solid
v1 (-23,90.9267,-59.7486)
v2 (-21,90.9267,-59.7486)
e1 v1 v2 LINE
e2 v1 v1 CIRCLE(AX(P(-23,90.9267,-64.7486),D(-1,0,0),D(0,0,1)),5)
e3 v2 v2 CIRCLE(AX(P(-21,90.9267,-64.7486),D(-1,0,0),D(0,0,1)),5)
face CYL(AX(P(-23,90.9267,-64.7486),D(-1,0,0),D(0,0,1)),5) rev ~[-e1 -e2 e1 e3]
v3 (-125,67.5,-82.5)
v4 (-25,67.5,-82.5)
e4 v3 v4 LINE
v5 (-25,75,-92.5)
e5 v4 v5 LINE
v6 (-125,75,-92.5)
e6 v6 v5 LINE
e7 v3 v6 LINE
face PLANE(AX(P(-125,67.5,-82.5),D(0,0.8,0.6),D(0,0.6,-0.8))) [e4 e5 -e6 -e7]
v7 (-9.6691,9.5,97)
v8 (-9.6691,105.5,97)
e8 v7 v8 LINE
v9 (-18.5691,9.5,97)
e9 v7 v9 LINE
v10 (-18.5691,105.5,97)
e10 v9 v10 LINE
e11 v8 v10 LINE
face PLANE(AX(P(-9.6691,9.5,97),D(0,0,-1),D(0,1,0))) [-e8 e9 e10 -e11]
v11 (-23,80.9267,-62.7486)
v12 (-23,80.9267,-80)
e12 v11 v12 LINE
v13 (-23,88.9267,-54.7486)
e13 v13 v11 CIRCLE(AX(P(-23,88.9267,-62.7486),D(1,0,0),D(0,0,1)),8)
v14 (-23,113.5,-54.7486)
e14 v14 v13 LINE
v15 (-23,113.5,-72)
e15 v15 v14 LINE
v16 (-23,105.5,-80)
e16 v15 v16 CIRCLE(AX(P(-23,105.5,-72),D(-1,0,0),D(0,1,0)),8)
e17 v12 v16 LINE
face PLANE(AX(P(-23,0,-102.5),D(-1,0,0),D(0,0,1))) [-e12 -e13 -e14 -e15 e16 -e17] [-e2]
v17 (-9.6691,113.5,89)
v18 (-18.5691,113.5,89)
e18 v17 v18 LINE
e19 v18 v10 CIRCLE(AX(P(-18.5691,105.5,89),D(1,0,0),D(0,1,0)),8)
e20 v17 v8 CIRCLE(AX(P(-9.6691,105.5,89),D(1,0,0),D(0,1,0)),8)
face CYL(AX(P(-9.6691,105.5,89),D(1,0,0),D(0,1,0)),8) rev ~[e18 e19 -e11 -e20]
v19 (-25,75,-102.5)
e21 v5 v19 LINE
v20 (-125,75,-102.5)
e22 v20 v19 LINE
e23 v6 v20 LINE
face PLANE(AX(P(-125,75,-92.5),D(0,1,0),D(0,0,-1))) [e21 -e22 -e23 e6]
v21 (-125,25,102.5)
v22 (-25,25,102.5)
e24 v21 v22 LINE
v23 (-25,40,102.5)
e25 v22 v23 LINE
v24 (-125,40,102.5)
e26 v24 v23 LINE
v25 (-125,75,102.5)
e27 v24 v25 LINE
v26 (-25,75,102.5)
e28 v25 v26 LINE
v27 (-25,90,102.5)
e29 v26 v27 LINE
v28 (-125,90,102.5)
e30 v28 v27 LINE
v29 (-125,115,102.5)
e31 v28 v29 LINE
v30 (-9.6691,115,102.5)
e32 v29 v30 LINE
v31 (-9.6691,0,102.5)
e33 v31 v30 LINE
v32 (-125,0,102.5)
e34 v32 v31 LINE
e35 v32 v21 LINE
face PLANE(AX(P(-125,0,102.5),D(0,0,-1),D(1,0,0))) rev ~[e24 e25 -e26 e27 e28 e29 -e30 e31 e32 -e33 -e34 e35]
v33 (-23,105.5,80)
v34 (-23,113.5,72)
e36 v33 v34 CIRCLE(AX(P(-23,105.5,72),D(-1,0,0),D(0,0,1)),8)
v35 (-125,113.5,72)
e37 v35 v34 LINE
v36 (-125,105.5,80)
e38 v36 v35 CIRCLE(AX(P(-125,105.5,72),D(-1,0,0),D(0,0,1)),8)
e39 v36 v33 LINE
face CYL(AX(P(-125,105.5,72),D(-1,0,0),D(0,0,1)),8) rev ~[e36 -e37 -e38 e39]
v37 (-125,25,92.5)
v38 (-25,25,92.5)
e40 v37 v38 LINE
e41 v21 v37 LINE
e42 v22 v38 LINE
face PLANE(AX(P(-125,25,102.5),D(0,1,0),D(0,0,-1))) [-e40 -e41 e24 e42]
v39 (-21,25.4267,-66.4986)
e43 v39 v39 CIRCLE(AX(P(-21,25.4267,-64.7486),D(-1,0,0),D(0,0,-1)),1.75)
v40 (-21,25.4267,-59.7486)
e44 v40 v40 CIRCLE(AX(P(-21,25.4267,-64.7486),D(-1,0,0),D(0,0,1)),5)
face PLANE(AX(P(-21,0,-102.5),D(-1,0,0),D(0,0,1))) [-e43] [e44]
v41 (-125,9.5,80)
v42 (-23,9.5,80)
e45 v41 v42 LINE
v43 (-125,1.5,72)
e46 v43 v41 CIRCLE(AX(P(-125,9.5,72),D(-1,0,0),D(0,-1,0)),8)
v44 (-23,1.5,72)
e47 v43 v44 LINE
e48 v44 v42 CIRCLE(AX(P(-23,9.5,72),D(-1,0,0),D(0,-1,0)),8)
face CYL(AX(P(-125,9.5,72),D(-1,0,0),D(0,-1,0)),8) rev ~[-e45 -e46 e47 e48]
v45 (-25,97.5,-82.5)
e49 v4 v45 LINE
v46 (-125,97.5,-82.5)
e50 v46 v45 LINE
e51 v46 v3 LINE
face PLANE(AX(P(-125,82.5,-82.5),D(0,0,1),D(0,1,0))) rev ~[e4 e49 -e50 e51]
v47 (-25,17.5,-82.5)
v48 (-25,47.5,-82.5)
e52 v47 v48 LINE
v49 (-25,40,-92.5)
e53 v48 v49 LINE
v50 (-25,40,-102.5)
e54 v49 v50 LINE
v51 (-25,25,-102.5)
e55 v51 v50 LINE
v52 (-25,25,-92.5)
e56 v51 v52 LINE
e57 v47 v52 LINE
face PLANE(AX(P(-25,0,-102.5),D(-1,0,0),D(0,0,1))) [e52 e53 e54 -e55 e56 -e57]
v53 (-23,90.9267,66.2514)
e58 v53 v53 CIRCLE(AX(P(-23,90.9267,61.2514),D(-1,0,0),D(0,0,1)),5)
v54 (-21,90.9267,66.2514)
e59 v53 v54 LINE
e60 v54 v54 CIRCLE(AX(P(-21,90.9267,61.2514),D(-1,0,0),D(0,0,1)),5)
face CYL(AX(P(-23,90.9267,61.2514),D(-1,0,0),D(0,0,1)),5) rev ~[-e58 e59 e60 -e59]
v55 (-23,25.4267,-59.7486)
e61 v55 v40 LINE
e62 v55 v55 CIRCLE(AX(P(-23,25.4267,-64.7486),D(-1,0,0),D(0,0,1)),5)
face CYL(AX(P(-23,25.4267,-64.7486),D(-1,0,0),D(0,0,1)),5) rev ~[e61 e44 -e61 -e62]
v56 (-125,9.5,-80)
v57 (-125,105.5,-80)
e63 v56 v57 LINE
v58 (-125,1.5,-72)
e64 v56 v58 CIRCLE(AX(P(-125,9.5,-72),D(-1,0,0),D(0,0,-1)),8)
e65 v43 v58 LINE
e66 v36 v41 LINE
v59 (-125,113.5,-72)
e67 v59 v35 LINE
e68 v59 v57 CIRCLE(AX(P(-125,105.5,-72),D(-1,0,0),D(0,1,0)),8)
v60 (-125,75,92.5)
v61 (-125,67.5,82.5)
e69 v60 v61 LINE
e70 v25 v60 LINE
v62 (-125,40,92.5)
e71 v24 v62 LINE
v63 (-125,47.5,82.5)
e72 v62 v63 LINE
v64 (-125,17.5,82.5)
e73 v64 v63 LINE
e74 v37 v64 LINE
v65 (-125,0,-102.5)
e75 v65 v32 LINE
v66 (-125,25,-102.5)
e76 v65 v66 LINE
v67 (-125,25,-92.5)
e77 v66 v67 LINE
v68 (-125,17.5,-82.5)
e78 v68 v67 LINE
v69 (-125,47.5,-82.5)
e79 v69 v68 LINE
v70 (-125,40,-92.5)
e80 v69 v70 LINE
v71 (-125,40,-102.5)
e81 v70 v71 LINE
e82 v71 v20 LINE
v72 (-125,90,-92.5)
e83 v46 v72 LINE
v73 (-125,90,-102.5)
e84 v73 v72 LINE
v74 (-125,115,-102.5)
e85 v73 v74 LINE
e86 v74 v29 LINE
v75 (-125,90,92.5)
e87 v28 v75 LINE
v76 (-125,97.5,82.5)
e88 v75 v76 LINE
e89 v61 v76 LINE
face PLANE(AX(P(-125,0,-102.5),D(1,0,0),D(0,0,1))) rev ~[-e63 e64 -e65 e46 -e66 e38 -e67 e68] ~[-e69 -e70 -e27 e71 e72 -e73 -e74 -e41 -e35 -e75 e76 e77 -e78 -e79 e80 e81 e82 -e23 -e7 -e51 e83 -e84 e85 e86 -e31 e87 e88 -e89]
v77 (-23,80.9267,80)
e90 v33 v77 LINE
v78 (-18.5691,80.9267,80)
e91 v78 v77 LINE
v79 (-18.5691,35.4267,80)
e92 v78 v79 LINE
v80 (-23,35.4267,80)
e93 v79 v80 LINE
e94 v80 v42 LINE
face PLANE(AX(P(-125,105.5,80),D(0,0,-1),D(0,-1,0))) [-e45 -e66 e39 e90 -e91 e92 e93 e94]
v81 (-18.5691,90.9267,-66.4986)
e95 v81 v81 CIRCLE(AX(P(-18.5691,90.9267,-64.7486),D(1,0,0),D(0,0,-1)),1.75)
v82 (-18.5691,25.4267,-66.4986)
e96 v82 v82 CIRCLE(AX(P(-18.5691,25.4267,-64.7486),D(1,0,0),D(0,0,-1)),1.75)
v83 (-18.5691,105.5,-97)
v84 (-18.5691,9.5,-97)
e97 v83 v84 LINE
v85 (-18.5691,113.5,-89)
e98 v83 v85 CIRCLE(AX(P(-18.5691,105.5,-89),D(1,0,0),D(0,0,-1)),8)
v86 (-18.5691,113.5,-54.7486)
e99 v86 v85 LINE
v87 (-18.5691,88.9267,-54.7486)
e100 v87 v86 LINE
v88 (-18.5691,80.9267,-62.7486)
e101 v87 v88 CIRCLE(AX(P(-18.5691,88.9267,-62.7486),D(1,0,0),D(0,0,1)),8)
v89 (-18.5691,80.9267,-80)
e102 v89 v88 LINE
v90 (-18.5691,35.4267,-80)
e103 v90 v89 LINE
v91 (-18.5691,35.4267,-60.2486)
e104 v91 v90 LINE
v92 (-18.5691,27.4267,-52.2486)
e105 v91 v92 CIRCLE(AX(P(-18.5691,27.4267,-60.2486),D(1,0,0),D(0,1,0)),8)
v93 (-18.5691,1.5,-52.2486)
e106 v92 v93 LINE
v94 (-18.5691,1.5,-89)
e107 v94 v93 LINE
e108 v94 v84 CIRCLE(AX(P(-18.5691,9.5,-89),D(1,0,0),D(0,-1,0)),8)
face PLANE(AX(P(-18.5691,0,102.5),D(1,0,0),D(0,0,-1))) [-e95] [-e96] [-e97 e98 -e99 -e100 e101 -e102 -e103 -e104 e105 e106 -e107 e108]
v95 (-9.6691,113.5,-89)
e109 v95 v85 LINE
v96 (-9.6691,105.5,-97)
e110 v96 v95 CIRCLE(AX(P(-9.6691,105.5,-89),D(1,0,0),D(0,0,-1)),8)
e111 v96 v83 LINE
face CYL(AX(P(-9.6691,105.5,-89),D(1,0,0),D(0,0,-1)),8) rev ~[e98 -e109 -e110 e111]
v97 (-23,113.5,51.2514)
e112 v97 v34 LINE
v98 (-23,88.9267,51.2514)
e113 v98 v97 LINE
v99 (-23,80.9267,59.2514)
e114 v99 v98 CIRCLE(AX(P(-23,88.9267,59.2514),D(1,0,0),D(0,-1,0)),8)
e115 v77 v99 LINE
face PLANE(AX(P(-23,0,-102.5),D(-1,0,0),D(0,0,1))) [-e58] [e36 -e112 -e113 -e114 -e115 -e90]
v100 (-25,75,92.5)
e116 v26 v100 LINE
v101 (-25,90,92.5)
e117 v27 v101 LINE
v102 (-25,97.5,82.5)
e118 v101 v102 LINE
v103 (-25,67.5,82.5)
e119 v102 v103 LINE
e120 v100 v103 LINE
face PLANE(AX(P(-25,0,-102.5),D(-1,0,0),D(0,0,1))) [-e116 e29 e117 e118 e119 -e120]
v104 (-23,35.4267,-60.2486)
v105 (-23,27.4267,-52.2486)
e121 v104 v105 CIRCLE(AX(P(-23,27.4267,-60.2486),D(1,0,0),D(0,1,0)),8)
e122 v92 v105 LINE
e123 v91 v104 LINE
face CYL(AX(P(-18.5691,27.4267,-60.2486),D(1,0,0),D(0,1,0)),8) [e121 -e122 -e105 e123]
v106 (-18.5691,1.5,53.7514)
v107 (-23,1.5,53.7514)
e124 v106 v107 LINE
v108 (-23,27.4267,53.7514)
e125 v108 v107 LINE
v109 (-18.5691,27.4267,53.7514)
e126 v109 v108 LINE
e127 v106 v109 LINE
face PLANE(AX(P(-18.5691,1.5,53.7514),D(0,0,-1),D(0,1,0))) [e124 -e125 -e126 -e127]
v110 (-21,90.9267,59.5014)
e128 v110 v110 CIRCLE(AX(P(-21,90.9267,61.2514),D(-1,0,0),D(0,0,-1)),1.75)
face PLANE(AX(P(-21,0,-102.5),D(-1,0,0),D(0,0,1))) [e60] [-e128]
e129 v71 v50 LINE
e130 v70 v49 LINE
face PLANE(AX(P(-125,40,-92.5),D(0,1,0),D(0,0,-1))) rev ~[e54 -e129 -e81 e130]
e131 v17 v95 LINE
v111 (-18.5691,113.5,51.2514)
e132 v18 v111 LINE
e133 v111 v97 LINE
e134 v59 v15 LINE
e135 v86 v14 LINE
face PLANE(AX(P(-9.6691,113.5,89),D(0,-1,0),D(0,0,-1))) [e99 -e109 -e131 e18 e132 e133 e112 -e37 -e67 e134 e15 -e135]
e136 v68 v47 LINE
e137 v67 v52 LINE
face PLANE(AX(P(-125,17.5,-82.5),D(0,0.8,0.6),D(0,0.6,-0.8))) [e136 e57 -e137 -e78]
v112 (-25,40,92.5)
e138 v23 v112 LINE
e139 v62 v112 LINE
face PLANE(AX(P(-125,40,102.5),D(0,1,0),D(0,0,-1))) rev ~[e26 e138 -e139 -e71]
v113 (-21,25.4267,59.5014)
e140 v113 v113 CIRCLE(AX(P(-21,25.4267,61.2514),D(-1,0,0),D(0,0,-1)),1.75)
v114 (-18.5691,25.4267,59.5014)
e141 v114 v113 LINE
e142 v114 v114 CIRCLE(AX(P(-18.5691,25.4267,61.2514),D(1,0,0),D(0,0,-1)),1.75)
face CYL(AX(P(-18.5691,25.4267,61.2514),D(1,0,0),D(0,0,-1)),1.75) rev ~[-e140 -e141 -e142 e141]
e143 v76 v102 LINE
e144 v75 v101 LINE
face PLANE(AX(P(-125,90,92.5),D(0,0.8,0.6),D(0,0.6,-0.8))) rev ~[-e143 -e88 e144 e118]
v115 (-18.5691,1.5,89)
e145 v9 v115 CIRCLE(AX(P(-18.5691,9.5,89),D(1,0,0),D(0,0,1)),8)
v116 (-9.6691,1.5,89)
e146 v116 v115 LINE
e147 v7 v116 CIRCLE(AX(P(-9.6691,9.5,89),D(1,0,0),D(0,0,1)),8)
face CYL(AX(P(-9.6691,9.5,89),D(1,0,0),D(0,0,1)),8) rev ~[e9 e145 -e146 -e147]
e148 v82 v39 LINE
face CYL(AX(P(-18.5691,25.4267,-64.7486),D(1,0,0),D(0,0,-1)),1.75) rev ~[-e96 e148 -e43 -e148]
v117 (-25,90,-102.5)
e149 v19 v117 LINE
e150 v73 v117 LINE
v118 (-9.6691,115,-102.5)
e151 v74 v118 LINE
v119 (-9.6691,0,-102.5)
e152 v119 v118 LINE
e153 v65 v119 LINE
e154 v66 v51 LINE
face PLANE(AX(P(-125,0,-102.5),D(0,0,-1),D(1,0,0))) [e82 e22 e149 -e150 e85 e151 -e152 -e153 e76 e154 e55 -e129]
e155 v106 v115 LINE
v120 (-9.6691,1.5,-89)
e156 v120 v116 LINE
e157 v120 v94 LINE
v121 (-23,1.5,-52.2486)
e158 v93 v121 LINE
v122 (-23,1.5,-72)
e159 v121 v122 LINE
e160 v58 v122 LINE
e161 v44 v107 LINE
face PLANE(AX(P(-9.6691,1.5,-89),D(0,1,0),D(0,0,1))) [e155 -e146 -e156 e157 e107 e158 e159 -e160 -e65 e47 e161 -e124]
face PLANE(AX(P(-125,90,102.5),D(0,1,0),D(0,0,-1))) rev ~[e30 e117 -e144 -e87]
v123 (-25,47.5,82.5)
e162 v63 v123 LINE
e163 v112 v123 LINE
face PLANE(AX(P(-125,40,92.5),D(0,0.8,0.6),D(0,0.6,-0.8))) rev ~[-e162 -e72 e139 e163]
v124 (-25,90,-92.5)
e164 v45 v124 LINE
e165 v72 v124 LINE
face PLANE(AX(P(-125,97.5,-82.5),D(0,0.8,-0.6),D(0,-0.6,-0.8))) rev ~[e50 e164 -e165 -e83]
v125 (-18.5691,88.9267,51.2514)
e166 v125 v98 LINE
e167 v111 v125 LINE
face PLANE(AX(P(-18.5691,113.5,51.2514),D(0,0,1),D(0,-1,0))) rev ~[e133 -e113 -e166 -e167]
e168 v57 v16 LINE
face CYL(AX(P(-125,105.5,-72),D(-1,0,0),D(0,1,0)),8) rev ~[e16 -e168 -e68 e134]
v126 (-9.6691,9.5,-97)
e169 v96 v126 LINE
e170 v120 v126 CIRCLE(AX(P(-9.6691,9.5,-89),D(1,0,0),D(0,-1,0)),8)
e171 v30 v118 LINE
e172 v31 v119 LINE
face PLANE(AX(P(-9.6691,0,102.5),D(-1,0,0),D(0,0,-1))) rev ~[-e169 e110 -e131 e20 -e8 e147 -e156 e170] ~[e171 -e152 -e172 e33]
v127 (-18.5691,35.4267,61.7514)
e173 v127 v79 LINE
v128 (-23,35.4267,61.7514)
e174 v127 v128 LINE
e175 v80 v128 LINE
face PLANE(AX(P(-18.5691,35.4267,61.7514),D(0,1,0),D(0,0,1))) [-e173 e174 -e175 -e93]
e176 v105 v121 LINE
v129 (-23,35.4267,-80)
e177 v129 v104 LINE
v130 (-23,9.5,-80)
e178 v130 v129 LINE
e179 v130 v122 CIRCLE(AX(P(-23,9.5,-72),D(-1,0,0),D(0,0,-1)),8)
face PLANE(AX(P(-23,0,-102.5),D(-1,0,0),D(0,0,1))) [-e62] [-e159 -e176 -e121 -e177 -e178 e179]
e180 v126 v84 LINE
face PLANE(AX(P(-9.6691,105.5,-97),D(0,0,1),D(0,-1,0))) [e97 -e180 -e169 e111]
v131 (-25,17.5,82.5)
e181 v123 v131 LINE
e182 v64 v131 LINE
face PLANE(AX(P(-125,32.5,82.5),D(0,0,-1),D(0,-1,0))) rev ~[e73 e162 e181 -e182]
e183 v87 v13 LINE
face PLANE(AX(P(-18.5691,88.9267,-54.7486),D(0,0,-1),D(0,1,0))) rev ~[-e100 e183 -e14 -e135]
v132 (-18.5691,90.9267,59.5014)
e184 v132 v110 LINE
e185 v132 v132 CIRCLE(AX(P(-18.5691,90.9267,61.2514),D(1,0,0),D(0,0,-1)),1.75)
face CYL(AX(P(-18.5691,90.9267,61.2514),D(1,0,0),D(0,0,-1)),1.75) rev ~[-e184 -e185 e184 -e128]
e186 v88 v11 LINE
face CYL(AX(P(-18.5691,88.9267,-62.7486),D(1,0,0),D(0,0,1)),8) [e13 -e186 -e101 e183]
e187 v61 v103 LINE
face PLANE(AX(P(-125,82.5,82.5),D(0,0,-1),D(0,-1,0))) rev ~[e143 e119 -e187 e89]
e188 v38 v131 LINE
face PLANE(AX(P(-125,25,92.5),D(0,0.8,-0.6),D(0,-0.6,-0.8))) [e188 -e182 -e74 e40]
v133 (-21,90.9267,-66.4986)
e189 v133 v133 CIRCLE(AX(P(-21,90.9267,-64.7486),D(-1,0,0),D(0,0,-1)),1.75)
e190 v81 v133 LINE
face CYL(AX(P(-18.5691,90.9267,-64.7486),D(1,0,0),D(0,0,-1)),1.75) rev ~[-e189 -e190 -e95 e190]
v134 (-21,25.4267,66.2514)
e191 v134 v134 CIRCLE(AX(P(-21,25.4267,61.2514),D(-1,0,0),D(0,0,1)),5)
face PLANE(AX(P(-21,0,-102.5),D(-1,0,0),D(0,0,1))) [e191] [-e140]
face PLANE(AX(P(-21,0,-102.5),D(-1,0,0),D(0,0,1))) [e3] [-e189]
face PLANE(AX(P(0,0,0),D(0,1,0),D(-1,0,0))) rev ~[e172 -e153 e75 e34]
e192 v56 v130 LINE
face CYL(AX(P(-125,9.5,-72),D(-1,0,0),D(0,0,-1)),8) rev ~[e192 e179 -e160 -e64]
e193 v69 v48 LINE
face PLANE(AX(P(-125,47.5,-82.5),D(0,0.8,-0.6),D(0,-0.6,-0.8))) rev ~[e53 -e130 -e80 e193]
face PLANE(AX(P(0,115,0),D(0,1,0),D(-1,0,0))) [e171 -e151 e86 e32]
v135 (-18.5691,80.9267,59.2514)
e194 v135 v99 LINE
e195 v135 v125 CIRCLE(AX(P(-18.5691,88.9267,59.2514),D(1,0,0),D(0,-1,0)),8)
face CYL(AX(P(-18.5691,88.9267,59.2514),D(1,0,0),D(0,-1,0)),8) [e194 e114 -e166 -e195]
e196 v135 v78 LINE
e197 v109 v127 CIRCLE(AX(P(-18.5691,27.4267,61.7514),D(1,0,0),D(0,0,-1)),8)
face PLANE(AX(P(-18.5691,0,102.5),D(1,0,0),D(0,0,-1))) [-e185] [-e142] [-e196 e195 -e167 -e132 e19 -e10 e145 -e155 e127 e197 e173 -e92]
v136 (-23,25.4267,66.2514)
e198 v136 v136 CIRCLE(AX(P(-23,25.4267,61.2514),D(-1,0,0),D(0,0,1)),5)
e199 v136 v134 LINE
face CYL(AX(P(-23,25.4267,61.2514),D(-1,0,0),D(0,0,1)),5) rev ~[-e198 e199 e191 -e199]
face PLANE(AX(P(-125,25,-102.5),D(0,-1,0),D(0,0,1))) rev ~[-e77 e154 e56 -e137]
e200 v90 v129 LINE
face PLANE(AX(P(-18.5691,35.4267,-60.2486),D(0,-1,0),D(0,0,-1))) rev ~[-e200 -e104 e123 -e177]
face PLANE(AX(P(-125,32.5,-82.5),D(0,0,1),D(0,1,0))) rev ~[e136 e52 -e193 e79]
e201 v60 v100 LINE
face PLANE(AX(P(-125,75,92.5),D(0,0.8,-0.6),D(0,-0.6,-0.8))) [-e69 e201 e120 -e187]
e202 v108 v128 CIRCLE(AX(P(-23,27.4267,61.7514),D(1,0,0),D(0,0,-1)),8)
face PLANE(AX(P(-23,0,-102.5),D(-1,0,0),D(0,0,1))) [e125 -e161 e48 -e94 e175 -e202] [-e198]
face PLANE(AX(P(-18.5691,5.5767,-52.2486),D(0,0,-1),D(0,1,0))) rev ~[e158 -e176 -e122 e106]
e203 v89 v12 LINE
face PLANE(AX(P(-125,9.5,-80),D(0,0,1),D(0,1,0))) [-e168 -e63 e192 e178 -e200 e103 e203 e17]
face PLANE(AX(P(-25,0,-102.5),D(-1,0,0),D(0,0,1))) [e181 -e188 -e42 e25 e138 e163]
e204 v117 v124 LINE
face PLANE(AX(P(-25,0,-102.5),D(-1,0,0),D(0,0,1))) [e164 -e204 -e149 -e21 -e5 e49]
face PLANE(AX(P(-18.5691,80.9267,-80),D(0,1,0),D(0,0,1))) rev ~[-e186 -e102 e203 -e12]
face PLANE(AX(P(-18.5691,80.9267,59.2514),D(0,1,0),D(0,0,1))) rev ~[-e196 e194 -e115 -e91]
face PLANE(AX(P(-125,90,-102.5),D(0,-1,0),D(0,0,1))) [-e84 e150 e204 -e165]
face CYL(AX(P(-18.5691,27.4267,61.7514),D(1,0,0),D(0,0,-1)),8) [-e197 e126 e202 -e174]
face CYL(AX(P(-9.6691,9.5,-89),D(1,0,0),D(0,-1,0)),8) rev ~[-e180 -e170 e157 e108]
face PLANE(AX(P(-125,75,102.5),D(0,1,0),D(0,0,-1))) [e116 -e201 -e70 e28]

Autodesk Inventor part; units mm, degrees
ref_plane "YZ Plane" through (0, 0, 0) normal (1, 0, 0) x (0, 1, 0)
ref_plane "XZ Plane" through (0, 0, 0) normal (0, 1, 0) x (-1, 0, 0)
ref_plane "XY Plane" through (0, 0, 0) normal (0, 0, 1) x (1, 0, 0)
sketch "Sketch12" plane through (0, 0, 0) normal (0, 1, 0) x (-1, 0, 0)
  line L0 (0, 0) -> (0, -102.5) construction
  line L1 (0, 0) -> (0, 102.5) construction
  line L2 (0, 102.5) -> (125, 102.5) construction
  line L3 (125, 102.5) -> (125, -102.5) construction
  line L4 (125, -102.5) -> (0, -102.5) construction
  line L5 (0, -102.5) -> (0, 102.5) construction
  line L6 (0, 102.5) -> (45, 102.5) construction
  line L7 (45, 102.5) -> (45, -102.5) construction
  line L8 (45, -102.5) -> (0, -102.5) construction
  line L9 (0, -102.5) -> (0, 102.5) construction
  line L10 (125, 0) -> (125, -217.5) construction
  line L11 (125, 0) -> (125, 217.5) construction
  line L12 (125, 217.5) -> (72.0108, 217.5) construction
  line L13 (45, 217.5) -> (45, 102.5) construction
  line L14 (125, -217.5) -> (72.0108, -217.5) construction
  line L15 (45, -217.5) -> (45, -102.5) construction
  arc A0 (34.5307, 191.4729) -> (34.5307, -191.4729) centre (548.125, 0) ccw construction
  arc A1 (34.5307, -191.4729) -> (72.0108, -217.5) centre (72.0108, -177.5) ccw construction
  arc A2 (72.0108, 217.5) -> (34.5307, 191.4729) centre (72.0108, 177.5) ccw construction
  line L16 (125, -102.5) -> (125, 102.5)
  line L17 (125, 102.5) -> (9.6691, 102.5)
  line L18 (125, -102.5) -> (9.6691, -102.5)
  arc A3 (9.6691, 102.5) -> (9.6691, -102.5) centre (548.125, 0) ccw construction
  line L19 (9.6691, 102.5) -> (9.6691, -102.5)
  dimension "d698" = 102.5
  dimension "d699" = 102.5
  dimension "d700" = 125
  dimension "d701" = 45
  dimension "d702" = 217.5
  dimension "d703" = 217.5
  dimension "d704" = 40
extrude "Extrusion12" add sketch "Sketch12" along normal blind 115
sketch "Sketch84" plane through (-125, 0, -102.5) normal (-1, 0, 0) x (0, 0, 1)
  line L0 (30.5, 113.5) -> (174.5, 113.5)
  line L1 (182.5, 105.5) -> (182.5, 9.5)
  line L2 (174.5, 1.5) -> (30.5, 1.5)
  line L3 (22.5, 9.5) -> (22.5, 105.5)
  line L4 (205, 0) -> (205, 115) projected
  line L5 (0, 0) -> (0, 115) projected
  line L6 (0, 115) -> (205, 115) projected
  line L7 (0, 0) -> (205, 0) projected
  arc A0 (30.5, 113.5) -> (22.5, 105.5) centre (30.5, 105.5) ccw
  arc A1 (182.5, 105.5) -> (174.5, 113.5) centre (174.5, 105.5) ccw
  arc A2 (174.5, 1.5) -> (182.5, 9.5) centre (174.5, 9.5) ccw
  arc A3 (22.5, 9.5) -> (30.5, 1.5) centre (30.5, 9.5) ccw
  point P0 (102.5, 0)
  dimension "d705" = 22.5
  dimension "d706" = 22.5
  dimension "d707" = 1.5
  dimension "d708" = 1.5
  dimension "d709" = 8
extrude "Extrusion69" cut sketch "Sketch84" against normal blind 102 contours L0 A1 L1 A2 L2 A3 L3 A0
sketch "Sketch85" plane through (-125, 0, -102.5) normal (-1, 0, 0) x (0, 0, 1)
  line L0 (205, 0) -> (205, 97) projected
  line L1 (205, 25) -> (205, 40)
  line L2 (205, 32.5) -> (185, 32.5) construction
  line L3 (185, 32.5) -> (185, 47.5)
  line L4 (185, 32.5) -> (185, 17.5)
  line L5 (205, 40) -> (195, 40)
  line L6 (195, 40) -> (185, 47.5)
  line L7 (205, 25) -> (195, 25)
  line L8 (195, 25) -> (185, 17.5)
  line L9 (0, 0) -> (205, 0) projected
  line L10 (205, 75) -> (205, 90)
  line L11 (205, 82.5) -> (185, 82.5) construction
  line L12 (185, 82.5) -> (185, 97.5)
  line L13 (185, 82.5) -> (185, 67.5)
  line L14 (205, 75) -> (195, 75)
  line L15 (195, 75) -> (185, 67.5)
  line L16 (205, 90) -> (195, 90)
  line L17 (195, 90) -> (185, 97.5)
  line L18 (0, 115) -> (205, 115) projected
  line L19 (0, 0) -> (0, 115) projected
  line L20 (0, 25) -> (10, 25)
  line L21 (0, 25) -> (10, 25) construction
  line L22 (0, 25) -> (0, 40)
  line L23 (10, 40) -> (0, 40)
  line L24 (0, 32.5) -> (20, 32.5) construction
  line L25 (20, 32.5) -> (20, 47.5)
  line L26 (20, 47.5) -> (10, 40)
  line L27 (20, 32.5) -> (20, 17.5)
  line L28 (20, 17.5) -> (10, 25)
  line L29 (0, 90) -> (10, 90)
  line L30 (0, 90) -> (0, 75)
  line L31 (10, 75) -> (0, 75)
  line L32 (0, 82.5) -> (20, 82.5) construction
  line L33 (20, 82.5) -> (20, 97.5)
  line L34 (20, 97.5) -> (10, 90)
  line L35 (20, 82.5) -> (20, 67.5)
  line L36 (20, 67.5) -> (10, 75)
  point P0 (102.5, 0)
  dimension "d712" = 15
  dimension "d713" = 20
  dimension "d714" = 15
  dimension "d715" = 15
  dimension "d717" = 10
  dimension "d718" = 25
  dimension "d719" = 15
  dimension "d720" = 20
  dimension "d721" = 15
  dimension "d722" = 15
  dimension "d723" = 10
  dimension "d728" = 25
  dimension "d732" = 10
  dimension "d734" = 20
  dimension "d735" = 15
  dimension "d736" = 15
extrude "Extrusion70" cut sketch "Sketch85" against normal blind 100
sketch "Sketch86" plane through (-9.6691, 0, 102.5) normal (1, 0, 0) x (0, 0, -1)
  line L0 (0, 90) -> (0, 115) construction
  line L1 (0, 0) -> (205, 0) construction
  line L2 (0, 115) -> (205, 0) construction
  line L3 (0, 115) -> (205, 115) construction
  line L4 (205, 115) -> (0, 0) construction
  line L5 (191.5, 1.5) -> (13.5, 1.5)
  line L6 (5.5, 9.5) -> (5.5, 105.5)
  line L7 (13.5, 113.5) -> (191.5, 113.5)
  line L8 (199.5, 105.5) -> (199.5, 9.5)
  line L9 (199.5, 1.5) -> (5.5, 113.5) construction
  line L10 (5.5, 1.5) -> (199.5, 113.5) construction
  arc A0 (13.5, 113.5) -> (5.5, 105.5) centre (13.5, 105.5) ccw
  arc A1 (199.5, 105.5) -> (191.5, 113.5) centre (191.5, 105.5) ccw
  arc A2 (191.5, 1.5) -> (199.5, 9.5) centre (191.5, 9.5) ccw
  arc A3 (5.5, 9.5) -> (13.5, 1.5) centre (13.5, 9.5) ccw
  point P0 (102.5, 0)
  point P1 (102.5, 57.5)
  dimension "d738" = 194
  dimension "d739" = 112
  dimension "d740" = 8
extrude "Extrusion71" cut sketch "Sketch86" against normal blind 8.9
sketch "Sketch90" plane through (-18.5691, 0, 102.5) normal (1, 0, 0) x (0, 0, -1)
  circle A0 centre (41.2486, 90.9267) radius 1.75
  circle A1 centre (167.2486, 25.4267) radius 1.75
  circle A2 centre (41.2486, 25.4267) radius 1.75
  circle A3 centre (167.2486, 90.9267) radius 1.75
  line L0 (198.9986, 106.9003) -> (198.9986, 7.9003)
  line L1 (190.9986, 1.9267) -> (13.9986, 1.9267) construction
  line L2 (5.9986, 9.9267) -> (5.9986, 104.9267) construction
  line L3 (13.9986, 112.9267) -> (190.9986, 112.9267) construction
  line L4 (198.9986, 104.9267) -> (198.9986, 9.9267) construction
  arc A4 (13.9986, 112.9267) -> (5.9986, 104.9267) centre (13.9986, 104.9267) ccw
  arc A5 (198.9986, 104.9267) -> (190.9986, 112.9267) centre (190.9986, 104.9267) ccw
  arc A6 (190.9986, 1.9267) -> (198.9986, 9.9267) centre (190.9986, 9.9267) ccw
  arc A7 (5.9986, 9.9267) -> (13.9986, 1.9267) centre (13.9986, 9.9267) ccw
  line L5 (21.3986, 106.3267) -> (186.7486, 106.3267) construction
  line L6 (186.7486, 106.3267) -> (186.7486, 5.5767) construction
  line L7 (186.7486, 5.5767) -> (21.3986, 5.5767) construction
  line L8 (21.3986, 5.5767) -> (21.3986, 106.3267) construction
  line L9 (33.7486, 94.9267) -> (48.7486, 94.9267) construction
  line L10 (48.7486, 94.9267) -> (48.7486, 86.9267) construction
  line L11 (48.7486, 86.9267) -> (33.7486, 86.9267) construction
  line L12 (33.7486, 86.9267) -> (33.7486, 94.9267) construction
  line L13 (33.7486, 94.9267) -> (48.7486, 86.9267) construction
  line L14 (48.7486, 94.9267) -> (33.7486, 86.9267) construction
  line L15 (33.7486, 29.4267) -> (48.7486, 29.4267) construction
  line L16 (48.7486, 29.4267) -> (48.7486, 21.4267) construction
  line L17 (48.7486, 21.4267) -> (33.7486, 21.4267) construction
  line L18 (33.7486, 21.4267) -> (33.7486, 29.4267) construction
  line L19 (33.7486, 29.4267) -> (48.7486, 21.4267) construction
  line L20 (48.7486, 29.4267) -> (33.7486, 21.4267) construction
  line L21 (159.7486, 29.4267) -> (174.7486, 29.4267) construction
  line L22 (174.7486, 29.4267) -> (174.7486, 21.4267) construction
  line L23 (174.7486, 21.4267) -> (159.7486, 21.4267) construction
  line L24 (159.7486, 21.4267) -> (159.7486, 29.4267) construction
  line L25 (159.7486, 29.4267) -> (174.7486, 21.4267) construction
  line L26 (174.7486, 29.4267) -> (159.7486, 21.4267) construction
  line L27 (159.7486, 94.9267) -> (174.7486, 94.9267) construction
  line L28 (174.7486, 94.9267) -> (174.7486, 86.9267) construction
  line L29 (174.7486, 86.9267) -> (159.7486, 86.9267) construction
  line L30 (159.7486, 86.9267) -> (159.7486, 88.953) construction
  line L31 (159.7486, 94.9267) -> (174.7486, 86.9267) construction
  line L32 (174.7486, 94.9267) -> (159.7486, 86.9267) construction
  line L33 (159.7486, 94.9267) -> (159.7486, 84.9003) construction
  line L34 (0, 90) -> (0, 115) construction
  line L35 (205, 0) -> (205, 25) construction
  line L36 (0, 115) -> (205, 0) construction
  line L37 (205, 0) -> (205, 115) construction
  line L38 (0, 0) -> (0, 115) construction
  line L39 (0, 0) -> (205, 115) construction
  line L40 (182.5, 9.5) -> (182.5, 105.5) projected
  line L41 (13.5, 113.5) -> (191.5, 113.5) projected
  line L42 (191.5, 1.5) -> (13.5, 1.5) projected
  line L43 (5.5, 9.5) -> (5.5, 105.5) projected
  line L44 (199.5, 105.5) -> (199.5, 9.5) projected
  line L45 (182.5, 80.9267) -> (165.2486, 80.9267)
  line L46 (13.5, 113.5) -> (191.5, 113.5) projected
  arc A8 (182.5, 105.5) -> (174.5, 113.5) centre (174.5, 105.5) ccw projected
  line L47 (174.5, 113.5) -> (30.5, 113.5) construction
  line L48 (174.5, 113.5) -> (30.5, 113.5) construction
  line L49 (157.2486, 88.9267) -> (157.2486, 113.5)
  arc A9 (157.2486, 88.9267) -> (165.2486, 80.9267) centre (165.2486, 88.9267) ccw
  line L50 (157.2486, 113.5) -> (174.5, 113.5)
  line L51 (182.5, 80.9267) -> (182.5, 105.5)
  arc A10 (182.5, 105.5) -> (174.5, 113.5) centre (174.5, 105.5) ccw
  line L52 (154.7486, 5.5767) -> (154.7486, 27.4267)
  line L53 (162.7486, 35.4267) -> (182.5, 35.4267)
  arc A11 (174.5, 1.5) -> (182.5, 9.5) centre (174.5, 9.5) ccw projected
  line L54 (182.5, 9.5) -> (182.5, 35.4267)
  line L55 (174.5, 1.5) -> (154.7486, 1.5)
  arc A12 (174.5, 1.5) -> (182.5, 9.5) centre (174.5, 9.5) ccw
  arc A13 (162.7486, 35.4267) -> (154.7486, 27.4267) centre (162.7486, 27.4267) ccw
  line L56 (48.7486, 1.5) -> (48.7486, 27.4267)
  line L57 (40.7486, 35.4267) -> (22.5, 35.4267)
  line L58 (22.5, 105.5) -> (22.5, 9.5) projected
  line L59 (22.5, 9.5) -> (22.5, 35.4267)
  line L60 (30.5, 1.5) -> (48.7486, 1.5)
  arc A14 (22.5, 9.5) -> (30.5, 1.5) centre (30.5, 9.5) ccw projected
  arc A15 (22.5, 9.5) -> (30.5, 1.5) centre (30.5, 9.5) ccw
  arc A16 (48.7486, 27.4267) -> (40.7486, 35.4267) centre (40.7486, 27.4267) ccw
  line L61 (51.2486, 113.5) -> (51.2486, 88.9267)
  line L62 (43.2486, 80.9267) -> (22.5, 80.9267)
  line L63 (22.5, 80.9267) -> (22.5, 105.5)
  line L64 (51.2486, 113.5) -> (30.5, 113.5)
  arc A17 (30.5, 113.5) -> (22.5, 105.5) centre (30.5, 105.5) ccw projected
  arc A18 (30.5, 113.5) -> (22.5, 105.5) centre (30.5, 105.5) ccw
  arc A19 (43.2486, 80.9267) -> (51.2486, 88.9267) centre (43.2486, 88.9267) ccw
  line L65 (22.5, 80.9267) -> (22.5, 35.4267)
  line L66 (22.5, 105.5) -> (22.5, 9.5) projected
  line L67 (51.2486, 113.5) -> (157.2486, 113.5)
  line L68 (182.5, 80.9267) -> (182.5, 35.4267)
  line L69 (154.7486, 5.5767) -> (154.7486, 1.5)
  line L70 (0, 0) -> (205, 0) projected
  line L71 (48.7486, 1.5) -> (48.7486, 1.9267)
  line L72 (154.7486, 1.5) -> (154.7486, 1.9267)
  line L73 (48.7486, 1.5) -> (154.7486, 1.5)
  line L74 (30.5, 1.5) -> (174.5, 1.5) projected
  point P0 (102.5, 0)
  point P1 (5.9986, 112.9267)
  point P2 (5.9986, 1.9267)
  point P3 (198.9986, 112.9267)
  point P4 (159.7486, 25.4267)
  point P5 (102.4986, 57.5003)
  point P6 (51.2486, 11.5)
  point P7 (179.5, 80.9267)
  point P8 (157.2486, 103.5)
  point P9 (48.7486, 1.5)
  point P10 (154.7486, 1.5)
  dimension "d840" = 3.5
  dimension "d841" = 3.5
  dimension "d842" = 3.5
  dimension "d843" = 3.5
  dimension "d844" = 193
  dimension "d845" = 111
  dimension "d846" = 8
  dimension "d847" = 8
  dimension "d848" = 165.35
  dimension "d849" = 100.75
  dimension "d850" = 3.65
  dimension "d851" = 15.4
  dimension "d852" = 15.4
  dimension "d853" = 19.85
  dimension "d854" = 19.85
  dimension "d855" = 15
  dimension "d856" = 8
  dimension "d857" = 15
  dimension "d858" = 15
  dimension "d859" = 8
  dimension "d860" = 19.5
  dimension "d861" = 19.85
  dimension "d862" = 19.5
  dimension "d863" = 19.85
  dimension "d864" = 12.25
  dimension "d865" = 0
  dimension "d868" = 15.4
  dimension "d869" = 6.6
  dimension "d870" = 12.25
  dimension "d892" = 8
  dimension "d893" = 8
  dimension "d894" = 8
  dimension "d895" = 8
  dimension "d902" = 10
  dimension "d903" = 10
  dimension "d904" = 10
  dimension "d905" = 10
extrude "Extrusion74" cut sketch "Sketch90" against normal blind 10 contours A0 | A1 | A2 | A3 | L53 A13 L52 L69 L42 L56 A16 L57 L58 L62 A19 L61 L41 L49 A9 L45 L40
sketch "Sketch91" plane through (-23, 0, -102.5) normal (-1, 0, 0) x (0, 0, 1)
  circle A0 centre (37.7514, 90.9267) radius 1.75 projected
  circle A1 centre (37.7514, 90.9267) radius 5
  circle A2 centre (163.7514, 90.9267) radius 1.75 projected
  circle A3 centre (163.7514, 90.9267) radius 5
  circle A4 centre (163.7514, 25.4267) radius 1.75 projected
  circle A5 centre (163.7514, 25.4267) radius 5
  circle A6 centre (37.7514, 25.4267) radius 1.75 projected
  circle A7 centre (37.7514, 25.4267) radius 5
  point P0 (102.5, 0)
  dimension "d896" = 10
  dimension "d897" = 10
  dimension "d898" = 10
  dimension "d899" = 10
extrude "Extrusion75" cut sketch "Sketch91" against normal blind 2
properties part number "center_fp13"
